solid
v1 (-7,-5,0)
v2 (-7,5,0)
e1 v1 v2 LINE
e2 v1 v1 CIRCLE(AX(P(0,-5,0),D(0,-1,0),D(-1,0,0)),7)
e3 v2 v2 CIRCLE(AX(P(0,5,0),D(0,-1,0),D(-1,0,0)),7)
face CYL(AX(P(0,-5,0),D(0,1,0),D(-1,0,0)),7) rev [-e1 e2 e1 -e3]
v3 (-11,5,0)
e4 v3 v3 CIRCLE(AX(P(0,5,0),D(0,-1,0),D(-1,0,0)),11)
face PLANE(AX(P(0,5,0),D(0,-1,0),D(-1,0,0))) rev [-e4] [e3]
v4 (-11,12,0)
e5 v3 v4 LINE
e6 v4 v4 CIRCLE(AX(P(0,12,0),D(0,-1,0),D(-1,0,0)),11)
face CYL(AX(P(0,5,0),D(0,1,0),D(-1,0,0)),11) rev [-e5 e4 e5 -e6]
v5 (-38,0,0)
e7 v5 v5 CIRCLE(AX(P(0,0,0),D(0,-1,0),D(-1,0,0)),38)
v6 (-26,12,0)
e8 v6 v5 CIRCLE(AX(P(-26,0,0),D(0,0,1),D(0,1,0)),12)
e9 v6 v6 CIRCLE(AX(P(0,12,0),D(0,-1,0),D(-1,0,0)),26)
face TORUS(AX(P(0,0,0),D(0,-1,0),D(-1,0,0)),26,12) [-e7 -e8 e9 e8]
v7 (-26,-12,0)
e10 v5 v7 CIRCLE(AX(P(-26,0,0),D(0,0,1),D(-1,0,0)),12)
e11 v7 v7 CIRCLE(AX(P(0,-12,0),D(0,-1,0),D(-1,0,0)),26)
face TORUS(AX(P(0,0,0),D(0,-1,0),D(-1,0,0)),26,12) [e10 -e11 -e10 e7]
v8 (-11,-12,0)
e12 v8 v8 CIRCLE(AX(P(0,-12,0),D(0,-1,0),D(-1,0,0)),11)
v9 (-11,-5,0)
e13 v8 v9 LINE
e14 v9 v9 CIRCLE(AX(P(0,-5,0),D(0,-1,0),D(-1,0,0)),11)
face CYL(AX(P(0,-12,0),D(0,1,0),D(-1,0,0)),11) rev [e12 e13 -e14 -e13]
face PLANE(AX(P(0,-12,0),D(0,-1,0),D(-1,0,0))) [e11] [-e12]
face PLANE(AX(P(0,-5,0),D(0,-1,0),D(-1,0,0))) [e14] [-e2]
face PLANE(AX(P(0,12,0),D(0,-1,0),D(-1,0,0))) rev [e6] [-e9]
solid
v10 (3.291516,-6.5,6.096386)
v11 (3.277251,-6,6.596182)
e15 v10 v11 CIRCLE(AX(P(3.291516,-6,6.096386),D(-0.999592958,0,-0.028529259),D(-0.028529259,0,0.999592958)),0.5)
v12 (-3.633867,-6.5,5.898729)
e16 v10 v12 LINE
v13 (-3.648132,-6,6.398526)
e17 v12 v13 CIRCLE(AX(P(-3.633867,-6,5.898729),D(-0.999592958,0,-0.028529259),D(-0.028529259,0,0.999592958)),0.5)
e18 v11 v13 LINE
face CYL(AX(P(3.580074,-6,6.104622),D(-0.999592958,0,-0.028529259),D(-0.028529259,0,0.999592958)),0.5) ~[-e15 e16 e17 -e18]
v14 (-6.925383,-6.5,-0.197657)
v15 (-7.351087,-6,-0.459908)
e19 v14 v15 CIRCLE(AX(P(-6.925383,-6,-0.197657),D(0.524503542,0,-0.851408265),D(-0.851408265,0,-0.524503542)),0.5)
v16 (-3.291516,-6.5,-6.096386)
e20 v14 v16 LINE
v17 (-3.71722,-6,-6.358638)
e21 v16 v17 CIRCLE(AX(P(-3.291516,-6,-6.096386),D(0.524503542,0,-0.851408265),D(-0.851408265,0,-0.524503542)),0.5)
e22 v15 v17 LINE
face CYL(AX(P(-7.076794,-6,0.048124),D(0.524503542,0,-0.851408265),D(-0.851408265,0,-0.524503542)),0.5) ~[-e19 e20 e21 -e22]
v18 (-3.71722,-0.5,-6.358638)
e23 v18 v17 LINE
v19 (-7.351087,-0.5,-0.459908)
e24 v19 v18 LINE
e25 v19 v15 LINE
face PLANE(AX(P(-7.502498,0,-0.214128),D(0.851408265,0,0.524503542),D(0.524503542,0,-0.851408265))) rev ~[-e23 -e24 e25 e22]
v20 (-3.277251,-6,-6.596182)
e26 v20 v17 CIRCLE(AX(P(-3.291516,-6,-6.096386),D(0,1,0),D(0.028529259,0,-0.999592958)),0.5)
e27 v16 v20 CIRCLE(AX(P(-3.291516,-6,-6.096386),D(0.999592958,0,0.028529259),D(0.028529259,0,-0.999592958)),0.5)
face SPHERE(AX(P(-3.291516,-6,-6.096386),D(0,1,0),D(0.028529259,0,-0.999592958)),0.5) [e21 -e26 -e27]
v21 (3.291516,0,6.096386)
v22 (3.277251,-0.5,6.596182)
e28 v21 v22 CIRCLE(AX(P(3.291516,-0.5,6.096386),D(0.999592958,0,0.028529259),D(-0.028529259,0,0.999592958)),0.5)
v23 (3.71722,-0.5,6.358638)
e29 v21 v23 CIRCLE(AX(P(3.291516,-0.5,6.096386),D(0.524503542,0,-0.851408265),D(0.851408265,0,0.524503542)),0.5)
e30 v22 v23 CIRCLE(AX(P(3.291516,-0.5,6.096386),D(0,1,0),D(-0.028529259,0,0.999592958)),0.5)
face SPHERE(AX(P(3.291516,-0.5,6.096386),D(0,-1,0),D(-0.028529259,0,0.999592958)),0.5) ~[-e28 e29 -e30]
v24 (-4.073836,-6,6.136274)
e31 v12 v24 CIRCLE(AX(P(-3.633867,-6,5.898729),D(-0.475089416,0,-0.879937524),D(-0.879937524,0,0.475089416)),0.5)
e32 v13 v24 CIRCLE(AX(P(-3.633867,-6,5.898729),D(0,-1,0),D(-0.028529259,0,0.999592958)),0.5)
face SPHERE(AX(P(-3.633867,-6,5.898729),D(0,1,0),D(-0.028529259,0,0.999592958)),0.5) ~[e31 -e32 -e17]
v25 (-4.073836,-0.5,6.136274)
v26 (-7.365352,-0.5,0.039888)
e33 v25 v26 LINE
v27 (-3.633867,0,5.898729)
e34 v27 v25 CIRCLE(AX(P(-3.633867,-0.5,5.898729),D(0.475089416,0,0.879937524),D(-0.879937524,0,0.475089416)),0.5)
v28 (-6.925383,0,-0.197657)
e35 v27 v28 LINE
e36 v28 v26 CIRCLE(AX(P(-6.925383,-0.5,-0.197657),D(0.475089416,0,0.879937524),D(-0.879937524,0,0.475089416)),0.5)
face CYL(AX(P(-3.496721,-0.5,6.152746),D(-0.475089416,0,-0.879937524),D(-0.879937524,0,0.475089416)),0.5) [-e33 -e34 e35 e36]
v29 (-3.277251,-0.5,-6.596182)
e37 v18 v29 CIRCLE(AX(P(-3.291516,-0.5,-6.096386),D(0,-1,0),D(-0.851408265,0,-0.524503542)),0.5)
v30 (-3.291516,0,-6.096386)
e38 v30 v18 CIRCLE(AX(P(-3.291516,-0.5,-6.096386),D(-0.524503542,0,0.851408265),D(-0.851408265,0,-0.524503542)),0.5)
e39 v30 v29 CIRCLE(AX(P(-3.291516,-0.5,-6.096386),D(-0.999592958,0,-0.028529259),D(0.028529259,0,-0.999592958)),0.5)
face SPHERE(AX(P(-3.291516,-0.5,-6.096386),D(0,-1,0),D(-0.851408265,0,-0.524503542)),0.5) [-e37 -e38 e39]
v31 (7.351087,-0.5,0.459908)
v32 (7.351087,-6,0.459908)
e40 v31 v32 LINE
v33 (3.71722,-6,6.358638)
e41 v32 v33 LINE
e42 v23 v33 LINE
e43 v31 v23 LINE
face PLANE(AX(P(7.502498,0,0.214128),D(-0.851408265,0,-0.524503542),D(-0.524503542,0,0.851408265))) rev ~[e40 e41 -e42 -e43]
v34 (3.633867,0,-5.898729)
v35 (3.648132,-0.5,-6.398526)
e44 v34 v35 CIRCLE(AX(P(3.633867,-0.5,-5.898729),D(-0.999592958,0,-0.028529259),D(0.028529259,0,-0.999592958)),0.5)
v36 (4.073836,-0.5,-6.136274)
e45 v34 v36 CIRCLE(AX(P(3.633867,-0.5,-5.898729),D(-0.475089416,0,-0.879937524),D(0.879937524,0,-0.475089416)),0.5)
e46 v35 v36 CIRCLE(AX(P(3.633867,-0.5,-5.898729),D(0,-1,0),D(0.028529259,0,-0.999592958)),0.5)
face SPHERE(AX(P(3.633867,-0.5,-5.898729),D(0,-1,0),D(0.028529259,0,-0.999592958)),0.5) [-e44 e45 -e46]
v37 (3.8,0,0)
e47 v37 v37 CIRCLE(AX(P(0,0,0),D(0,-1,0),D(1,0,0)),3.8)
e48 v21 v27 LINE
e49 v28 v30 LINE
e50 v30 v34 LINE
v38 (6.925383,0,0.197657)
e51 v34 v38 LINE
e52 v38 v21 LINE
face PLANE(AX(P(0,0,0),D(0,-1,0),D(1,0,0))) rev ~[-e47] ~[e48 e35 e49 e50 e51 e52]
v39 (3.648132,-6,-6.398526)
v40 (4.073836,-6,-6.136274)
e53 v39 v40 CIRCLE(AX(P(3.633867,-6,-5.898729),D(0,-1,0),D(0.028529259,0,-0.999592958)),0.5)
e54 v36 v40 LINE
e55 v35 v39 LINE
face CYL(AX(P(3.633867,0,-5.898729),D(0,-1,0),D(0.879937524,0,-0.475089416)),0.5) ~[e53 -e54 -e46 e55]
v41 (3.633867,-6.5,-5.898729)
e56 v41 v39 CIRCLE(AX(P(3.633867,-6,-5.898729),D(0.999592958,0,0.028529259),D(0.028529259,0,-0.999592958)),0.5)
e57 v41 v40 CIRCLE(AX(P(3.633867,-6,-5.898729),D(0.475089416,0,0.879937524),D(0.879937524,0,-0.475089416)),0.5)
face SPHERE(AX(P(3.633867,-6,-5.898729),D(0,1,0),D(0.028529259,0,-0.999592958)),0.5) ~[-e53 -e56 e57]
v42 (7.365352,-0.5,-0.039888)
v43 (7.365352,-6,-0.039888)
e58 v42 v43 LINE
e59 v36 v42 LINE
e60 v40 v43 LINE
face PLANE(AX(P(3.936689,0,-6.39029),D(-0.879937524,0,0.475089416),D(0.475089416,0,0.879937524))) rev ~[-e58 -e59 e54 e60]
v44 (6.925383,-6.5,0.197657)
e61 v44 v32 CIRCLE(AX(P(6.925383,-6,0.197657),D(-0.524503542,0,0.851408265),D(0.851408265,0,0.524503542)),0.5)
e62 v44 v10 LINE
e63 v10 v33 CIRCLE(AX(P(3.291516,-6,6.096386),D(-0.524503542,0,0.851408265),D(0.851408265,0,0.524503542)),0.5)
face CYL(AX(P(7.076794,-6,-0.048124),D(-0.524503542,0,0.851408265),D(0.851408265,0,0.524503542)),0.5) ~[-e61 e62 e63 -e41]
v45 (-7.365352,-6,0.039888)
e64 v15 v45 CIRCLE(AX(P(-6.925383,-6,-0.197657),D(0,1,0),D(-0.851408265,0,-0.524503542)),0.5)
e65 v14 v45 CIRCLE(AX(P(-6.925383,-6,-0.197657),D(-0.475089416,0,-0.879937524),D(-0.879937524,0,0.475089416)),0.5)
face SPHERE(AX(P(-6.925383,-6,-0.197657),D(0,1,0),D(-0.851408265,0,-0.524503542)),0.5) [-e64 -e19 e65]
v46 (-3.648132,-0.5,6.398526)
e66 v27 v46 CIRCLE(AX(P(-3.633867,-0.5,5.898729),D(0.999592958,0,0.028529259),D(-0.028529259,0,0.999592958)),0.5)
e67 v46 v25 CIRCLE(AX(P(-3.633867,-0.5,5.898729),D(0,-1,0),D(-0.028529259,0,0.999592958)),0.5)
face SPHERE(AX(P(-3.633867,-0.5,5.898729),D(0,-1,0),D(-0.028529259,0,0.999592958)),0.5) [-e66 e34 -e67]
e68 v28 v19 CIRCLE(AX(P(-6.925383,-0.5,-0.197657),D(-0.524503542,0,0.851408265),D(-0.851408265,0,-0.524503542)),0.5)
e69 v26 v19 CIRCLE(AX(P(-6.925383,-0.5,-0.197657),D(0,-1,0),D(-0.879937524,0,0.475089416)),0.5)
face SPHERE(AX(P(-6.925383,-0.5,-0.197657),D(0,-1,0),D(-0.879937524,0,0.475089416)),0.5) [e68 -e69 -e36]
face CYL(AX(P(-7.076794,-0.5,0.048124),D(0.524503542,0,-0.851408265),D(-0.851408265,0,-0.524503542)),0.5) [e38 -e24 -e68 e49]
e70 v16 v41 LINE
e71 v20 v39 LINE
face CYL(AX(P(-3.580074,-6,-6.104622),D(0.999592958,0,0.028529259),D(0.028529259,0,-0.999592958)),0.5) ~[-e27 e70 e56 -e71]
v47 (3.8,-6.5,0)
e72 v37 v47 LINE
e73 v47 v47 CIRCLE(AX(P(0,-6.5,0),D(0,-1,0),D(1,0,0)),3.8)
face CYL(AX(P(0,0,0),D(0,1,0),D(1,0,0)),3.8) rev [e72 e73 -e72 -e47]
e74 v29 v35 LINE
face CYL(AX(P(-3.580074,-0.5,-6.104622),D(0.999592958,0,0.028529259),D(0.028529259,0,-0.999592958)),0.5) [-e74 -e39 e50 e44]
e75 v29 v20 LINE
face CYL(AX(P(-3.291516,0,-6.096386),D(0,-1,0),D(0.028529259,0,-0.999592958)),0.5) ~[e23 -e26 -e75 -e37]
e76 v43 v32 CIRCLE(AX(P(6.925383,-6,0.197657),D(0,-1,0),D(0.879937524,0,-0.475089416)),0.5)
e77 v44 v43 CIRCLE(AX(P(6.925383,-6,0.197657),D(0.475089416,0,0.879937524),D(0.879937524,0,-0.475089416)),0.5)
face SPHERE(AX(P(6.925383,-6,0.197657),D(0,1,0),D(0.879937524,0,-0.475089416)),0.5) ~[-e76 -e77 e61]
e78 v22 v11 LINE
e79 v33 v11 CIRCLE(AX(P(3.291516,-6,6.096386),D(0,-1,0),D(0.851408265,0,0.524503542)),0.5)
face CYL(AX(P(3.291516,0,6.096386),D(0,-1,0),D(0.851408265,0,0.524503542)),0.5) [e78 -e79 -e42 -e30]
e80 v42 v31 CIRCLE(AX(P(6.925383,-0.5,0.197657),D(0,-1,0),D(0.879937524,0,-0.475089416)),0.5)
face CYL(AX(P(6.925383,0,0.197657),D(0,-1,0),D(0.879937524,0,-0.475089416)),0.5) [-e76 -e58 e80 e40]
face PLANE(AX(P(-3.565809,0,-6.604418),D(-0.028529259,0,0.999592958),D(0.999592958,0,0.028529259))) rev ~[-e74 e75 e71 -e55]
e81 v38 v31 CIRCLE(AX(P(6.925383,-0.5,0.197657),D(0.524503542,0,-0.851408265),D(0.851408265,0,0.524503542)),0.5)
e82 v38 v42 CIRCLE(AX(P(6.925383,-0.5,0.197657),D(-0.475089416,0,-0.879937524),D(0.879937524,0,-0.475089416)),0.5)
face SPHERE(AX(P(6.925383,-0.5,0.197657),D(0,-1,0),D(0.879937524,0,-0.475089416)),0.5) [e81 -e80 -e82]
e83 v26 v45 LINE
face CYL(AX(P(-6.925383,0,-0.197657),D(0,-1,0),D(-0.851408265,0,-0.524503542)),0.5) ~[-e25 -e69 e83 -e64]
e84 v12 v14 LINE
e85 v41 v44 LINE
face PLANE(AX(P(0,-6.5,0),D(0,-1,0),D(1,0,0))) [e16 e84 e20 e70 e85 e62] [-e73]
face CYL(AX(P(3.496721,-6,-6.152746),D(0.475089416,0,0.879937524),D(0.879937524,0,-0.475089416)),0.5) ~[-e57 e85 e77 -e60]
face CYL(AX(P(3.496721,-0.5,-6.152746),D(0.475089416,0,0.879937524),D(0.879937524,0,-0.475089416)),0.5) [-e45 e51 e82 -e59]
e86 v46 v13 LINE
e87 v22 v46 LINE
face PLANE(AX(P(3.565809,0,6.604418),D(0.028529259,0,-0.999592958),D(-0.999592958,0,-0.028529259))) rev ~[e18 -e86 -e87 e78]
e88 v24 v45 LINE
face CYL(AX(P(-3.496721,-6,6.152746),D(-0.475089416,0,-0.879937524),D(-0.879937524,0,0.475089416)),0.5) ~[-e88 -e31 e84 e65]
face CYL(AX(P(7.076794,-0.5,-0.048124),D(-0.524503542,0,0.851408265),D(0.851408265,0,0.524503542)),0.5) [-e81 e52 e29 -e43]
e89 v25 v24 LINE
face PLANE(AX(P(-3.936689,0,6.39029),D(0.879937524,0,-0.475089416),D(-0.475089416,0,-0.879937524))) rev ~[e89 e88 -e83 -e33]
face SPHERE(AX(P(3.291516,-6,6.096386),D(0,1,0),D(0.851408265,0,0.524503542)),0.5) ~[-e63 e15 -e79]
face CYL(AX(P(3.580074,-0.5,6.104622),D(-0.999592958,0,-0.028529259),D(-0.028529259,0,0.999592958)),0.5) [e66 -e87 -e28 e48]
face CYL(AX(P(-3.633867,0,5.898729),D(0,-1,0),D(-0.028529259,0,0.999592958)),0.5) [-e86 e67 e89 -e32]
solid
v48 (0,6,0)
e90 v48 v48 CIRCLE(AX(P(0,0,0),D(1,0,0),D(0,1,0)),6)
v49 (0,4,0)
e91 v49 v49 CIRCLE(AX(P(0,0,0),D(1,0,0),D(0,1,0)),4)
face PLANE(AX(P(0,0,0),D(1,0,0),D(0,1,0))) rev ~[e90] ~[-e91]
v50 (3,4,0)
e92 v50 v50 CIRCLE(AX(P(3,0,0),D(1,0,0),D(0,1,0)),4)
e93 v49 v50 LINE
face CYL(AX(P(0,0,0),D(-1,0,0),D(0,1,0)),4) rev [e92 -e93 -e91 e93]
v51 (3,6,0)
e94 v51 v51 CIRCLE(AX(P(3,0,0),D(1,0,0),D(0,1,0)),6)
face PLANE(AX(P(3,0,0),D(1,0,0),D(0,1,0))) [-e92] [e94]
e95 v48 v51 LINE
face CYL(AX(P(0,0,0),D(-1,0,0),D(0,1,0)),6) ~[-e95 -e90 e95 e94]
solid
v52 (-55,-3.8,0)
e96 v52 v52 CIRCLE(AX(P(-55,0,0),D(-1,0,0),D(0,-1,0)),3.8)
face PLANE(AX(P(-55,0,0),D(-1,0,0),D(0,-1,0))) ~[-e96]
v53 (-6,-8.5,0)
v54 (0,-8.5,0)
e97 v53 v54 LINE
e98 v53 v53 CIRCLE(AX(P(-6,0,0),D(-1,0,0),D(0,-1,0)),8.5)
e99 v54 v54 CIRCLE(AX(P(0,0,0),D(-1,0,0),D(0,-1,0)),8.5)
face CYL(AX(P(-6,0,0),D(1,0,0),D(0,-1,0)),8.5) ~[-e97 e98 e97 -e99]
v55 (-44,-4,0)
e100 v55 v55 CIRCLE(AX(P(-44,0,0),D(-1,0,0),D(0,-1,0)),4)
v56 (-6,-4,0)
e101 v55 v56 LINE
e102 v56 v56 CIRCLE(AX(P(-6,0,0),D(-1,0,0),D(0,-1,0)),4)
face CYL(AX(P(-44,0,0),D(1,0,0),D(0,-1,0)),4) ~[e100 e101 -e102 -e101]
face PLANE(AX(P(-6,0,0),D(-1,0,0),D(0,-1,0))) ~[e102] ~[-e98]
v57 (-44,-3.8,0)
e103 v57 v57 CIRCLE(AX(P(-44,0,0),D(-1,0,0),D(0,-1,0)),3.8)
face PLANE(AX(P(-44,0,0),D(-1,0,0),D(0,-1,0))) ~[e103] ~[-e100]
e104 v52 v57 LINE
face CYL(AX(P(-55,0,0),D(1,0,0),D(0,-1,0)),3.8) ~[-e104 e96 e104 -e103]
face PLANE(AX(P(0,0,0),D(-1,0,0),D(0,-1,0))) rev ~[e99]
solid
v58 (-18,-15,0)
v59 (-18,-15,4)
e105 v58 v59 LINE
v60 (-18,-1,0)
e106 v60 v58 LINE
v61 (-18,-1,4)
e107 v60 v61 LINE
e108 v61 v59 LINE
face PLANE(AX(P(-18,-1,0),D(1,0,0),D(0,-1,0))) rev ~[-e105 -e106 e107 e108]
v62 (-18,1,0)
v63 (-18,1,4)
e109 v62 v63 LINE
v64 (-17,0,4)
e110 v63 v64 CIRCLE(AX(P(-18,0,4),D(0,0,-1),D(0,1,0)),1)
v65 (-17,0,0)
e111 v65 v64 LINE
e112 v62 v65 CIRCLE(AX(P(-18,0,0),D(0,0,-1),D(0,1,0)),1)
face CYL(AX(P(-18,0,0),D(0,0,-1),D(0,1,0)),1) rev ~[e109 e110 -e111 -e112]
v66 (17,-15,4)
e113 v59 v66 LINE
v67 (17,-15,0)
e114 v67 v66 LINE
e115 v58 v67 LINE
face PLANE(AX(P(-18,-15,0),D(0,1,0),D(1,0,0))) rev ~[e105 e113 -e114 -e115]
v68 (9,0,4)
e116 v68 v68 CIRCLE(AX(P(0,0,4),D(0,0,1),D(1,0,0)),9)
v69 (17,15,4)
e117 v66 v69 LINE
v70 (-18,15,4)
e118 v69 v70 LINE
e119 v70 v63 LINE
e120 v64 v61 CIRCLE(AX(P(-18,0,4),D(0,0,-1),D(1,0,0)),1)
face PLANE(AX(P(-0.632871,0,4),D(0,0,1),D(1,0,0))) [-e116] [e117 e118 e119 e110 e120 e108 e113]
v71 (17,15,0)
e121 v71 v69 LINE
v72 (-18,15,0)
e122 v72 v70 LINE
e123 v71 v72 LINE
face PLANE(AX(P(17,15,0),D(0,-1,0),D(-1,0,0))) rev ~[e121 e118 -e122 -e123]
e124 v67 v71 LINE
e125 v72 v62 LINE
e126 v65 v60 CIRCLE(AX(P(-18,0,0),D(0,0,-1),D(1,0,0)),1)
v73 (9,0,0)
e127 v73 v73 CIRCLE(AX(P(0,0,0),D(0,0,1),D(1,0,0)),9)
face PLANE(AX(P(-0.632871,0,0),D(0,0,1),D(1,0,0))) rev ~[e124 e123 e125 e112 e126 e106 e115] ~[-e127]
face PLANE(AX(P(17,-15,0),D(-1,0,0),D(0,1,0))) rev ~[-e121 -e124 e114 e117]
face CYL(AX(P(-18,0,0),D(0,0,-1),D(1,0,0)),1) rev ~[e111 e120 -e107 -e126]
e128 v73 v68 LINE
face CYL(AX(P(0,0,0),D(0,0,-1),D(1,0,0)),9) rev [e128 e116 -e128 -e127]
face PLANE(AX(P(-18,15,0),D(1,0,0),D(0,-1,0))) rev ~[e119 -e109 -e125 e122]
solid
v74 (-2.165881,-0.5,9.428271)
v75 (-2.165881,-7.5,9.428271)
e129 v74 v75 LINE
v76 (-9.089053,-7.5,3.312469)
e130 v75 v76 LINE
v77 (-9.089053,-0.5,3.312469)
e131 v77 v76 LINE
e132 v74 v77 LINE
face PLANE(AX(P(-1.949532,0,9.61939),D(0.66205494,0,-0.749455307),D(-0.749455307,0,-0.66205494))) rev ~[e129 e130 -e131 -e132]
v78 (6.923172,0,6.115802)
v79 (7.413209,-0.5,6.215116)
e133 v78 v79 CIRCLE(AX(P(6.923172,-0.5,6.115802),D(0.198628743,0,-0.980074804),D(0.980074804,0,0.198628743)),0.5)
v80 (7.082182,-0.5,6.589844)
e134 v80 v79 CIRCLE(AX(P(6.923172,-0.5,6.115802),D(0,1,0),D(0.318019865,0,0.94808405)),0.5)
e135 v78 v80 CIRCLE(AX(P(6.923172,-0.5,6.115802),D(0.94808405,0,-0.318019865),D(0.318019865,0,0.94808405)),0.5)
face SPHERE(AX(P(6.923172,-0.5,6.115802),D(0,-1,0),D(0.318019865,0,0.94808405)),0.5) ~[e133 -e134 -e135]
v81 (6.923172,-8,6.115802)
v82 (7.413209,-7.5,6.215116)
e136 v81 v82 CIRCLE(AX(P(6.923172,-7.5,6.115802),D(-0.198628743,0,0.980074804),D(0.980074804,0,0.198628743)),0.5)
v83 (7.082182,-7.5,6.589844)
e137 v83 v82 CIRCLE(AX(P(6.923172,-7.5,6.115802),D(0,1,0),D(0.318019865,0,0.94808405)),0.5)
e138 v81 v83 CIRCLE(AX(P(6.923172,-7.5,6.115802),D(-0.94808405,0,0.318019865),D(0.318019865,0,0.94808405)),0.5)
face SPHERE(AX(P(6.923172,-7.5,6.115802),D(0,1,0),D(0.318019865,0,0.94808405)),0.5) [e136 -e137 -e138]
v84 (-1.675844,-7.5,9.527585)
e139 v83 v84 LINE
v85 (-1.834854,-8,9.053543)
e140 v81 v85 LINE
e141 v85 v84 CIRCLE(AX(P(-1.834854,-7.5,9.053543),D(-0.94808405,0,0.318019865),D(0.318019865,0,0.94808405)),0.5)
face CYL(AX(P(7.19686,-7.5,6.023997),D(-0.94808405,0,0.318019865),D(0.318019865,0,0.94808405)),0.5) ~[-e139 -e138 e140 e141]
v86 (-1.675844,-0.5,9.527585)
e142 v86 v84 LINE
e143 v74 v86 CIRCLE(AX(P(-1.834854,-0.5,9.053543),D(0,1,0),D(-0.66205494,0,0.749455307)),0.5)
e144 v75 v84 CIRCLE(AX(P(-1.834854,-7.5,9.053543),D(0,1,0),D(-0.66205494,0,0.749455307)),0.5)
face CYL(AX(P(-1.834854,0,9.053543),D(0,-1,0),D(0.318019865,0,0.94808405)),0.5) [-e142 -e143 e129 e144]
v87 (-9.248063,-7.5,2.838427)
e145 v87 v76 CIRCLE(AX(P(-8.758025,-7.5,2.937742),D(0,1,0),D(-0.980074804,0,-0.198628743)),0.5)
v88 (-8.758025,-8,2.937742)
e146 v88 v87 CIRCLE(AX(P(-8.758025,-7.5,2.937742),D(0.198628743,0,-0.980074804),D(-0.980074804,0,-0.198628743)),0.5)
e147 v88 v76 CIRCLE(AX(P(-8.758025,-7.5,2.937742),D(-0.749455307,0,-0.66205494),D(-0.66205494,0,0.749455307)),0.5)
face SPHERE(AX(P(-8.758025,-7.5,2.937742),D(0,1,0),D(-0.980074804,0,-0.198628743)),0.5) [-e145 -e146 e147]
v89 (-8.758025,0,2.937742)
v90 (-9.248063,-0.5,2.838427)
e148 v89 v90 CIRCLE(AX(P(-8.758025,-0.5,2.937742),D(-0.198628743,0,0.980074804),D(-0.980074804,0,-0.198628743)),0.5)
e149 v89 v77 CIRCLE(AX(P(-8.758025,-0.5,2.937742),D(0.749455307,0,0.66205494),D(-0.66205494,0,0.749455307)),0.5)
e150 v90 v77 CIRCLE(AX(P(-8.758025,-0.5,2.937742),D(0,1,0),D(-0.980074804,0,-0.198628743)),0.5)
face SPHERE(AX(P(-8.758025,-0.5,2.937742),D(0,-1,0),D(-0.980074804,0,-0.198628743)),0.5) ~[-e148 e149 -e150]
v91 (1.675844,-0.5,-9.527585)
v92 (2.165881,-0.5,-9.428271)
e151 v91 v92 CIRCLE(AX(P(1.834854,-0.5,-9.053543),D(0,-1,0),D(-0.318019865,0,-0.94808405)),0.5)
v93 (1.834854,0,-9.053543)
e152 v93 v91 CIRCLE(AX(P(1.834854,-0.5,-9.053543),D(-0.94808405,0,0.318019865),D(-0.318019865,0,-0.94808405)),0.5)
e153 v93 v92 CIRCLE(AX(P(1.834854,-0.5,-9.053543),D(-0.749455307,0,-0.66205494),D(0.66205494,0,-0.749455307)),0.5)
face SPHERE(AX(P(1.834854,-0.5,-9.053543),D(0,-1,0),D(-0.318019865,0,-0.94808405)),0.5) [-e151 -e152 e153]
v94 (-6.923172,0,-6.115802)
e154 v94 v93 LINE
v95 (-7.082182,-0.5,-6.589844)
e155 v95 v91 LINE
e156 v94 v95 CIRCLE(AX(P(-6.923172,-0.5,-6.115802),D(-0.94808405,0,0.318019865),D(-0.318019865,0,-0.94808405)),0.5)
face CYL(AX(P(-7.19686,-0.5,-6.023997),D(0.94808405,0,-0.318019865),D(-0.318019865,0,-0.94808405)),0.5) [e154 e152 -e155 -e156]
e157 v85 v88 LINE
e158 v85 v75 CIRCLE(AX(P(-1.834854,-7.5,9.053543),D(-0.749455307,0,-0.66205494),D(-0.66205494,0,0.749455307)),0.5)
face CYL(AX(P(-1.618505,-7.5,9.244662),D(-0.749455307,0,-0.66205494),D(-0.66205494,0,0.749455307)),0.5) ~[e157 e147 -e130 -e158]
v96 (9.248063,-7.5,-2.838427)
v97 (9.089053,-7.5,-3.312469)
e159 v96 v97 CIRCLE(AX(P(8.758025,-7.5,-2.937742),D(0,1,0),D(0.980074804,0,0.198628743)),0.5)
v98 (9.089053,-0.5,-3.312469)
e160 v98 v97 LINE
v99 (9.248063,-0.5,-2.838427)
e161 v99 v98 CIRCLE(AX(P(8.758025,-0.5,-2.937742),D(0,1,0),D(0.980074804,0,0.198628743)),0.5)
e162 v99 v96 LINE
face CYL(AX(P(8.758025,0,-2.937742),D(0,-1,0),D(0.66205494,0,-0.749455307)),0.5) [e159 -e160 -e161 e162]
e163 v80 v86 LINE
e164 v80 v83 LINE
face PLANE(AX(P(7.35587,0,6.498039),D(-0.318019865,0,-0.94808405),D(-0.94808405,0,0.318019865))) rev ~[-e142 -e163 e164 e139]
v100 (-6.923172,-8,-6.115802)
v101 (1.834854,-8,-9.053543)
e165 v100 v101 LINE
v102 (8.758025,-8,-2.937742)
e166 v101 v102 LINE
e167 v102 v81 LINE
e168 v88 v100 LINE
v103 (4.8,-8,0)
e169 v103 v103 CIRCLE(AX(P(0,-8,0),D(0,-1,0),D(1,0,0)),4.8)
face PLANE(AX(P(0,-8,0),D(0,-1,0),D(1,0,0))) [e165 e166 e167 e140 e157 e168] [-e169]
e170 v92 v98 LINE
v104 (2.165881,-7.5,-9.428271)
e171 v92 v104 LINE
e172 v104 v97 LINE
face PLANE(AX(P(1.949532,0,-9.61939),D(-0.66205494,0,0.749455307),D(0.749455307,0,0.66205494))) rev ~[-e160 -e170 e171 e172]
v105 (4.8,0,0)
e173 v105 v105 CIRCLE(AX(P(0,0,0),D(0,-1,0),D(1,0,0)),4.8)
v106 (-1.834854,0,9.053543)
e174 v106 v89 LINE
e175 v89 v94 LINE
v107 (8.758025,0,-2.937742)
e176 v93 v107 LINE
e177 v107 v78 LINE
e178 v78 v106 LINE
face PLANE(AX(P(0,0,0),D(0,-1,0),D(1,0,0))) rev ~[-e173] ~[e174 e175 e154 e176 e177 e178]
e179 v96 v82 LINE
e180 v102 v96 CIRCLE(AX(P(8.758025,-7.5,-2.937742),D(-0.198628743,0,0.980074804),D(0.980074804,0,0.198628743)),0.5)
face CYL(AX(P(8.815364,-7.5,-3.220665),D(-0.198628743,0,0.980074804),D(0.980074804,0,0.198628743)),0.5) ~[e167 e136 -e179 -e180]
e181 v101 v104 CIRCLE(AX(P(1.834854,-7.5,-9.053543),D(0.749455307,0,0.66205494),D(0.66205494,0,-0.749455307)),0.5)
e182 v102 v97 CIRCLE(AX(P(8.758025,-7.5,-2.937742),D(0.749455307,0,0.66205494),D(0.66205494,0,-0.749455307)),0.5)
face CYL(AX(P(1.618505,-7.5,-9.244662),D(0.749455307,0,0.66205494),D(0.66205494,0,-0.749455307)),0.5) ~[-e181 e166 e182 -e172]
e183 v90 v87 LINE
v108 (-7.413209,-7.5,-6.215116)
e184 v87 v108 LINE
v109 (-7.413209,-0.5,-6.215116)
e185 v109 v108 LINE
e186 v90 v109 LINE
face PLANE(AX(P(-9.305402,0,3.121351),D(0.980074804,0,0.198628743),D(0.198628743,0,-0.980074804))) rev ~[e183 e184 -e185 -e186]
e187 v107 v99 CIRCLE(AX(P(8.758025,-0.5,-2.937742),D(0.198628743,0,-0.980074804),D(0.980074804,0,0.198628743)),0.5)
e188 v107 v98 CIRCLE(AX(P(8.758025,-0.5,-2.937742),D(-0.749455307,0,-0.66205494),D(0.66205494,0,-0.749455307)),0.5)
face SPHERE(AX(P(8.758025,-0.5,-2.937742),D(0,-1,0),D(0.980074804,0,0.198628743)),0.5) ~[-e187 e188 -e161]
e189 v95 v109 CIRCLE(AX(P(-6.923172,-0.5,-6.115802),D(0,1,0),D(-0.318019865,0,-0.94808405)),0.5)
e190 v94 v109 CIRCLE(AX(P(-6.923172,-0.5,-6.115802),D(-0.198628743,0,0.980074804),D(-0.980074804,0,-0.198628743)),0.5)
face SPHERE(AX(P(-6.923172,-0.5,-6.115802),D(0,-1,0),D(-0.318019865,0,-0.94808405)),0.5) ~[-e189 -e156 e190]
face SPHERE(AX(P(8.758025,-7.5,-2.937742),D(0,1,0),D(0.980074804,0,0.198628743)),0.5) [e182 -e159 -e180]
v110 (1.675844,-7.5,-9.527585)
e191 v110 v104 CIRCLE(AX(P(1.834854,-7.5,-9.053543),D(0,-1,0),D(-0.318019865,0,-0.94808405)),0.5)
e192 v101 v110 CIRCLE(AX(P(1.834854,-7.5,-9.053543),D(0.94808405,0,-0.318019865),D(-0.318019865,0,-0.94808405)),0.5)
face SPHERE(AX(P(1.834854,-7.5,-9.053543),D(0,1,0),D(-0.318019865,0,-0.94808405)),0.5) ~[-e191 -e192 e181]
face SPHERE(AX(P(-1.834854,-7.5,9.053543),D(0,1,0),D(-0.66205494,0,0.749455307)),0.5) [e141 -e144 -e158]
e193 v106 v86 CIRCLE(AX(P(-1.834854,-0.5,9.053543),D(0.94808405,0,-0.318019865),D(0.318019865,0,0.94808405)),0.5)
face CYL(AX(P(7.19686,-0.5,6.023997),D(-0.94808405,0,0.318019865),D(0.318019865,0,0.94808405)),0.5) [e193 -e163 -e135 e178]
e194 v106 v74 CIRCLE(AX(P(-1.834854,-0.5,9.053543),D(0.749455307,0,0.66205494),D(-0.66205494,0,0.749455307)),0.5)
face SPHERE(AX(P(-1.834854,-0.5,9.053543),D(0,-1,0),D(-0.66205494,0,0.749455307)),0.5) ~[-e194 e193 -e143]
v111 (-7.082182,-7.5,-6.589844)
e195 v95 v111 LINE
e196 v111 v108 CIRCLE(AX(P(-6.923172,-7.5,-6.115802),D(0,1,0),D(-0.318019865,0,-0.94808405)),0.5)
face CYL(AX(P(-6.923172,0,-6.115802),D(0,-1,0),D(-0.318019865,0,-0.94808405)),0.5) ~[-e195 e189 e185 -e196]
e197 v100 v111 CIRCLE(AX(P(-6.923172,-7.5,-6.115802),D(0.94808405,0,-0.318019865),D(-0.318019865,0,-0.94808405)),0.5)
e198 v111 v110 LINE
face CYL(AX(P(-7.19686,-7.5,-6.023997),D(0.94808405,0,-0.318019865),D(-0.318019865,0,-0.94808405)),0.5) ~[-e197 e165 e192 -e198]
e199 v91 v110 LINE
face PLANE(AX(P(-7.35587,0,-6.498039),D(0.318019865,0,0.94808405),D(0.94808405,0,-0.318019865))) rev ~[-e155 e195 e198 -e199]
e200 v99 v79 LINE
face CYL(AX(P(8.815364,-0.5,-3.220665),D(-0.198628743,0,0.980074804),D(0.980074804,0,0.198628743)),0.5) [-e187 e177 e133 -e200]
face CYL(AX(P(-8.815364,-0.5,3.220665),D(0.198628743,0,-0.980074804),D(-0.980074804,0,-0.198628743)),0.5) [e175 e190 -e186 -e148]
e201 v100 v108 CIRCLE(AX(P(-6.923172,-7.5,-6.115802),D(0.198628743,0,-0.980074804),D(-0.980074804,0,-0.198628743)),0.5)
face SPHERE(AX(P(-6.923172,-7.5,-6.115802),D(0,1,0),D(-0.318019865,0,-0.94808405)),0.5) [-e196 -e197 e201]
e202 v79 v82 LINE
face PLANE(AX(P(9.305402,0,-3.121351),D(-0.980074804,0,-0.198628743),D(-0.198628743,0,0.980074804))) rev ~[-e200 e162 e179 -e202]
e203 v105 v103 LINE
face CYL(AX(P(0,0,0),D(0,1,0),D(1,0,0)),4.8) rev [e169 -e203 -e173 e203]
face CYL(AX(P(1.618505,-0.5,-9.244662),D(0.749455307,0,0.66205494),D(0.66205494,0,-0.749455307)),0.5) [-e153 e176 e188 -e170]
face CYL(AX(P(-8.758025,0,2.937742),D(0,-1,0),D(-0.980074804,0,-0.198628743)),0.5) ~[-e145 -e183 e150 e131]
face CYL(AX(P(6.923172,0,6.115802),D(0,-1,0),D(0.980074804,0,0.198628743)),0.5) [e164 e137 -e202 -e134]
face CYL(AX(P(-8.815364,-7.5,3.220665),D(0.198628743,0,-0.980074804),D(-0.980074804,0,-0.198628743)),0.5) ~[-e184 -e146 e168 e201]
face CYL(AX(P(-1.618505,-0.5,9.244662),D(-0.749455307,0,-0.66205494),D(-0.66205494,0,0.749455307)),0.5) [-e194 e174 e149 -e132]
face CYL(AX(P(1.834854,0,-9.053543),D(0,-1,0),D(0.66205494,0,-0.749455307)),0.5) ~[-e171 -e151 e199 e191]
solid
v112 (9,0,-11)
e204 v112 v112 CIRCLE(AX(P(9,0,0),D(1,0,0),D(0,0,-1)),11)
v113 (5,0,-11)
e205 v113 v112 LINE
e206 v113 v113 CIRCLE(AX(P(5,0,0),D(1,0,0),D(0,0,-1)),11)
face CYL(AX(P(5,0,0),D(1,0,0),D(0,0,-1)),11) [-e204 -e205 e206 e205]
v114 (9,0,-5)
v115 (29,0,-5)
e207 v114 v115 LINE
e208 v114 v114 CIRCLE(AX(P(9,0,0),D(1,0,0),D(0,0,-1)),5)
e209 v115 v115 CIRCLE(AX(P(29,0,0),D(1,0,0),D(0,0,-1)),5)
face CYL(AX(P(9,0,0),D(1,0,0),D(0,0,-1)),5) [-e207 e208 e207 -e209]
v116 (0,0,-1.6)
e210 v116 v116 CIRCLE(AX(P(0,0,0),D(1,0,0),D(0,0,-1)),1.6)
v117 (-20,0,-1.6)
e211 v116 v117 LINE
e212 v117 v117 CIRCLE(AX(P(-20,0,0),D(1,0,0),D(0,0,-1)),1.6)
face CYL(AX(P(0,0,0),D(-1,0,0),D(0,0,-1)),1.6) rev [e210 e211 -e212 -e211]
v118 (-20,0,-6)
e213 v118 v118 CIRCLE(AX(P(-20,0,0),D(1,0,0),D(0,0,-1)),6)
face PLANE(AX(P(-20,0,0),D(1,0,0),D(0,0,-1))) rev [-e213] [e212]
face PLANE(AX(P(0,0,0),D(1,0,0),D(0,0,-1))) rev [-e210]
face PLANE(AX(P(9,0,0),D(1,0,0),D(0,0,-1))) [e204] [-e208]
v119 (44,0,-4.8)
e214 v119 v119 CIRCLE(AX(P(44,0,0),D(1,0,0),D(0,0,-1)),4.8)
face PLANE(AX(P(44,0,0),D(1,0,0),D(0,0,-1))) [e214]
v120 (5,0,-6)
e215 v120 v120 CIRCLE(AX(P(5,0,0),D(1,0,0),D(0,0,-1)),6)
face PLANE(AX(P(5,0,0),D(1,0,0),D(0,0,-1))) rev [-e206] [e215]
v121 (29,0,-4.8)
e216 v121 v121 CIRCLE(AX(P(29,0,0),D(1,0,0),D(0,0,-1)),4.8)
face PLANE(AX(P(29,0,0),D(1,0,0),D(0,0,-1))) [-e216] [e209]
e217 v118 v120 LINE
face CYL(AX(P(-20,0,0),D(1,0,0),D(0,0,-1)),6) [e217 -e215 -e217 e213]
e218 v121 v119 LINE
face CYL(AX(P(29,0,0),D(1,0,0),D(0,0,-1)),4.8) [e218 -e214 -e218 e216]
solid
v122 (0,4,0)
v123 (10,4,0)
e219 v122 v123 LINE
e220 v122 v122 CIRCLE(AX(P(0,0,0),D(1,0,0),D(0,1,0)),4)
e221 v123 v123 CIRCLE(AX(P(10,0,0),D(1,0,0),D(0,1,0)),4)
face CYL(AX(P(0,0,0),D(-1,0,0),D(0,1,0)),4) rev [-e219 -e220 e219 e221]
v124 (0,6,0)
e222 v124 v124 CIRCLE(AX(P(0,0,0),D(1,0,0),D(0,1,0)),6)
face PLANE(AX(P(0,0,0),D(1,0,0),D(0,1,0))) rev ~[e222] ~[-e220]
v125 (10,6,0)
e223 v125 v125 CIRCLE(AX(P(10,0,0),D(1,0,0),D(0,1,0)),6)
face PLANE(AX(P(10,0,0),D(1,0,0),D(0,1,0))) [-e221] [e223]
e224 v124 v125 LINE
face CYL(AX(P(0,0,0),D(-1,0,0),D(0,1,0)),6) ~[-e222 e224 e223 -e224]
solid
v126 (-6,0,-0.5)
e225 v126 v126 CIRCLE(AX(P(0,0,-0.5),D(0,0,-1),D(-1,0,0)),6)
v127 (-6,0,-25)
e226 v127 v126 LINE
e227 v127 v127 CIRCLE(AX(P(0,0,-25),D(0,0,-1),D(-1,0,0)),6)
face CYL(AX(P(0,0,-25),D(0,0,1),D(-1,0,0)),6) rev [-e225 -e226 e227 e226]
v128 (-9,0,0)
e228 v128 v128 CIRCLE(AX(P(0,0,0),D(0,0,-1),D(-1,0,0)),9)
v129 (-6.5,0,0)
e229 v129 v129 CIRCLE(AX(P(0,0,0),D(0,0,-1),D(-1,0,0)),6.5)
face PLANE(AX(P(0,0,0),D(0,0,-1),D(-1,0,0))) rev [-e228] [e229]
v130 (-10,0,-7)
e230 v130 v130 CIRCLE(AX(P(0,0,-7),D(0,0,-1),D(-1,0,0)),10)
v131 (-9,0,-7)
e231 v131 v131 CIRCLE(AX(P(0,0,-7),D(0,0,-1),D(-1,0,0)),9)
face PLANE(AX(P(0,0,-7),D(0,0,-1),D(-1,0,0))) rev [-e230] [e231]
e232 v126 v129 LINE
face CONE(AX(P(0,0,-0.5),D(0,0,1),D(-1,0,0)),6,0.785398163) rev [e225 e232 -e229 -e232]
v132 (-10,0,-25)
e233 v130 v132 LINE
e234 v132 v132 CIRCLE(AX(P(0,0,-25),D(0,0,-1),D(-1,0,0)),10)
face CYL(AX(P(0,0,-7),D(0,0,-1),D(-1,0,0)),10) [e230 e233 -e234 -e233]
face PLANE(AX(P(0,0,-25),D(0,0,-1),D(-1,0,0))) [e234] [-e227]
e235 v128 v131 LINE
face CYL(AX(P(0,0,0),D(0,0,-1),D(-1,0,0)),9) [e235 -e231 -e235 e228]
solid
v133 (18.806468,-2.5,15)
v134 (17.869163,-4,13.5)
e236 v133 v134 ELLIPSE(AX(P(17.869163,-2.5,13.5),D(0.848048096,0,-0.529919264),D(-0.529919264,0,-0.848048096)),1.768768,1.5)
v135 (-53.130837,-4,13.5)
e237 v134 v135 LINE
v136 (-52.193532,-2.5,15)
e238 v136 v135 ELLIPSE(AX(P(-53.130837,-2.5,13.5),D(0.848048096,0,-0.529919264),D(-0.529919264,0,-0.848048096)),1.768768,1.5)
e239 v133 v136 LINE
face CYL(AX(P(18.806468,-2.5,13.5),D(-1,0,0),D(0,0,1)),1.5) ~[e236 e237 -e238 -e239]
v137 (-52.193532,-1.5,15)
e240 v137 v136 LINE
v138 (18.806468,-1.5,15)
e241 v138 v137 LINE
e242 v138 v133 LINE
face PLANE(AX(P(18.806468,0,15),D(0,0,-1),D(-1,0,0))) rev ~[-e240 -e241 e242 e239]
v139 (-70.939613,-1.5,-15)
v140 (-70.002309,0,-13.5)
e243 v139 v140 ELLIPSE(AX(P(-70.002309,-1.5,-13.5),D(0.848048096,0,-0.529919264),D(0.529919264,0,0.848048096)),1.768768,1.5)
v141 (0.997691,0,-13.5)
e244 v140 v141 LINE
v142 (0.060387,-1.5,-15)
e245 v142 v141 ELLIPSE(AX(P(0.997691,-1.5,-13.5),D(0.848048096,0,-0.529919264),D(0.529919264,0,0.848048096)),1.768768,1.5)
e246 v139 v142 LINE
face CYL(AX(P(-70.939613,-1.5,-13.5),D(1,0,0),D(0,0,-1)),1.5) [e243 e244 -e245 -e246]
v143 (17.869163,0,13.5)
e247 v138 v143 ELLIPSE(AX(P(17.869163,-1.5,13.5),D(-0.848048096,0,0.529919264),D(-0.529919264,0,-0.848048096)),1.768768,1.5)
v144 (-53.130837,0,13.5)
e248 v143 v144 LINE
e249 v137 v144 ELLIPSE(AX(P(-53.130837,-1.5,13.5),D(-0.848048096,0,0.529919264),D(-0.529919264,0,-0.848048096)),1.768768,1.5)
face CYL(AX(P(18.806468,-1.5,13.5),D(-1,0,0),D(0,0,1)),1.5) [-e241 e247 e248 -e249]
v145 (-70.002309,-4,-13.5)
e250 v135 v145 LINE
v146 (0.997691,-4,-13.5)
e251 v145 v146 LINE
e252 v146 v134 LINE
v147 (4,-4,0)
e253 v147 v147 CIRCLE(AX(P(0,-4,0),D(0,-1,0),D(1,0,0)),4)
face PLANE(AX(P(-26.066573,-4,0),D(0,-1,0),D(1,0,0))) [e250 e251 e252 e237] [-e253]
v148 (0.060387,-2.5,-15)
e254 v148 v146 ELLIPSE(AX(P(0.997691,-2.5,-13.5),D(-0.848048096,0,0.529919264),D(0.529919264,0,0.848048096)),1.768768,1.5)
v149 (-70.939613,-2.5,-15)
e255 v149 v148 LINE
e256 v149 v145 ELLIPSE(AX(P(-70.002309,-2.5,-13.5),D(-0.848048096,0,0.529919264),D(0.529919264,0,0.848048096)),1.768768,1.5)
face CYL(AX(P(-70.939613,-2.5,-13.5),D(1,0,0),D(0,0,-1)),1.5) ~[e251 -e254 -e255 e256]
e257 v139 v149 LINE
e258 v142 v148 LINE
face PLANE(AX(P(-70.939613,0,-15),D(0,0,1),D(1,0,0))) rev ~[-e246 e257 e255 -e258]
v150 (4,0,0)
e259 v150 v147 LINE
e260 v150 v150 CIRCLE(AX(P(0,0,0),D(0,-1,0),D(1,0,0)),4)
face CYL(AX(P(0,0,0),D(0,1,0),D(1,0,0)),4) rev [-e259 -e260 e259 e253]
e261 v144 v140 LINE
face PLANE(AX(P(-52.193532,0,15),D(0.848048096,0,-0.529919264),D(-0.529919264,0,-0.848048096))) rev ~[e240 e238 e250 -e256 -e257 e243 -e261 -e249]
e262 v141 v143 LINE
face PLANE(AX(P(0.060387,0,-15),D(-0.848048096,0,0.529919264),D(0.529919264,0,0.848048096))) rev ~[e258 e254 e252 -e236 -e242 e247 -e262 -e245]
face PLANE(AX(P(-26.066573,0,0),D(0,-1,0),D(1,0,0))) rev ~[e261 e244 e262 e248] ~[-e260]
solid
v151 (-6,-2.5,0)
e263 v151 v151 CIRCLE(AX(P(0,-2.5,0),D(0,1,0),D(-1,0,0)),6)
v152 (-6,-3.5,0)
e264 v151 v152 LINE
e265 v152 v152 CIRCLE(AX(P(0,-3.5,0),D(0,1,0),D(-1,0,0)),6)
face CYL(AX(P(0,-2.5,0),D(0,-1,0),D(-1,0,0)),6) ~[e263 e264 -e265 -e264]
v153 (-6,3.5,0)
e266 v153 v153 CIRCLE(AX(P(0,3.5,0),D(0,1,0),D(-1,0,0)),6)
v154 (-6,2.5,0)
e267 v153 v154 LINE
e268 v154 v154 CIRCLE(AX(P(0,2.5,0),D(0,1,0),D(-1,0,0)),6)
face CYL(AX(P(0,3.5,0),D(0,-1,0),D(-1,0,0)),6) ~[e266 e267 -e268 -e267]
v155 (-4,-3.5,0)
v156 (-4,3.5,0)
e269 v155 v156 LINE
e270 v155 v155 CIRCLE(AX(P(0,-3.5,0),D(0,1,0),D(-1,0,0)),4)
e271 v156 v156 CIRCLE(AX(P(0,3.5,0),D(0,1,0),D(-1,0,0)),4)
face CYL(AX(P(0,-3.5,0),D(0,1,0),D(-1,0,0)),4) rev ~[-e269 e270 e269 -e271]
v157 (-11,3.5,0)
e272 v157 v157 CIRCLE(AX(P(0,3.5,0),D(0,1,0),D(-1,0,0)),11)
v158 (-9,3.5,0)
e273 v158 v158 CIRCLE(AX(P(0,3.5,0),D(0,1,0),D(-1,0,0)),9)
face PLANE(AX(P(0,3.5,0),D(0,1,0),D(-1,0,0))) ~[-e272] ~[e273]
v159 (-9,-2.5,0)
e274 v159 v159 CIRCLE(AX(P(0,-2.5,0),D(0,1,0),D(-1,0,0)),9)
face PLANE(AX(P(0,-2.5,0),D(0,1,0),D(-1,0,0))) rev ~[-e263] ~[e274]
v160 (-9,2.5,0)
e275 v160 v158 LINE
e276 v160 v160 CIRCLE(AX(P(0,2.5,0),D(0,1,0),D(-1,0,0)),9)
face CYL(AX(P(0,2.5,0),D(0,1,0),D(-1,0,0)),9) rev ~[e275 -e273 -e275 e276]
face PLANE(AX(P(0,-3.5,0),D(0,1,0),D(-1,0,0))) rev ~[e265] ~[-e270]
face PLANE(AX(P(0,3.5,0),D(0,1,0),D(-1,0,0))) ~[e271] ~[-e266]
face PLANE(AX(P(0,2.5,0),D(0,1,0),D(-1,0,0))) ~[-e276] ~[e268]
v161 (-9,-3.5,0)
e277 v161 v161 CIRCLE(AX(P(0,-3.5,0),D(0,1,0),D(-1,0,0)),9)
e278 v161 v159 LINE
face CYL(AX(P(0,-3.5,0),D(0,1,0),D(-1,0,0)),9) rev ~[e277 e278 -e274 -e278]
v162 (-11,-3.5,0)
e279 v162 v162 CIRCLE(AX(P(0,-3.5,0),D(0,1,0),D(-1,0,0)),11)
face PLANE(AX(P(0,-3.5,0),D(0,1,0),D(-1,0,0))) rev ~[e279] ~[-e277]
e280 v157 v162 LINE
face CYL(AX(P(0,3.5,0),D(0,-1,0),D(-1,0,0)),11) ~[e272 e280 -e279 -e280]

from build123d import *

# Parameters (mm, degrees)
F1_R      = 9
F2_DEPTH  = 4
F3_R      = 4
F4_DEPTH  = 4
F5_R      = 1.5
F8_SIZE   = 0.5
F17_R     = 6
F17_R_2   = 4
F18_DEPTH = 10
F19_DEPTH = 3
F20_R     = 3.8
F21_DEPTH = 6.5
F22_R     = 0.5
F23_R     = 4.8
F24_DEPTH = 8
F25_R     = 0.5


with BuildPart() as f2:
    # F1 (on Top) → F2 (new body)
    with BuildSketch(Plane.XY):
        with BuildLine():
            Line((17, 15), (-18, 15))
            Line((-18, 15), (-18, 1))
            ThreePointArc((-18, 1), (-17.2928932188, 0.7071067812), (-17, 0))
            ThreePointArc((-17, 0), (-17.2928932188, -0.7071067812), (-18, -1))
            Line((-18, -1), (-18, -15))
            Line((-18, -15), (17, -15))
            Line((17, -15), (17, 15))
        make_face()
        Circle(F1_R, mode=Mode.SUBTRACT)
    extrude(amount=F2_DEPTH)


with BuildPart() as f4:
    # F3 (on Front) → F4 (new body)
    with BuildSketch(Plane.XZ):
        Polygon((-52.1935324945, 15), (-70.9396130517, -15), (0.0603869483, -15), (18.8064675055, 15), align=None)
        Circle(F3_R, mode=Mode.SUBTRACT)
    extrude(amount=F4_DEPTH)

    # F5
    f5_edges = [f4.edges().sort_by_distance(p)[0] for p in [
        (-16.693532, -4, 15),
        (-16.693532, 0, 15),
        (-35.439613, 0, -15),
        (-35.439613, -4, -15),
    ]]
    fillet(f5_edges, radius=F5_R)


with BuildPart() as f7:
    # F6 (on Front) → F7 (revolve)
    with BuildSketch(Plane.XZ):
        Polygon((-9, -7), (-10, -7), (-10, -25), (-6, -25), (-6, 0), (-9, 0), align=None)
    revolve(axis=Axis((0, 0, -12.5), (0, 0, -1)))

    # F8
    f8_edges = [f7.edges().sort_by_distance(p)[0] for p in [
        (6, 0, 0),
    ]]
    chamfer(f8_edges, length=F8_SIZE)


with BuildPart() as f10:
    # F9 (on Front) → F10 (revolve)
    with BuildSketch(Plane.XZ):
        Polygon((44, 0), (0, 0), (0, -1.6), (-20, -1.6), (-20, -6), (5, -6), (5, -11), (9, -11), (9, -5), (29, -5), (29, -4.8), (44, -4.8), align=None)
    revolve(axis=Axis((22, 0, 0), (1, 0, 0)))


with BuildPart() as f12:
    # F11 (on Top) → F12 (revolve)
    with BuildSketch(Plane.XY):
        with BuildLine():
            Line((-11, 5), (-11, 12))
            Line((-11, 12), (-26, 12))
            ThreePointArc((-26, 12), (-34.4852813742, 8.4852813742), (-38, 0))
            ThreePointArc((-38, 0), (-34.4852813742, -8.4852813742), (-26, -12))
            Line((-26, -12), (-11, -12))
            Line((-11, -12), (-11, -5))
            Line((-11, -5), (-7, -5))
            Line((-7, -5), (-7, 5))
            Line((-7, 5), (-11, 5))
        make_face()
    revolve(axis=Axis((0, 0, 0), (0, -1, 0)))


with BuildPart() as f14:
    # F13 (on Top) → F14 (revolve)
    with BuildSketch(Plane.XY):
        Polygon((-9, 3.5), (-11, 3.5), (-11, -3.5), (-9, -3.5), (-9, -2.5), (-6, -2.5), (-6, -3.5), (-4, -3.5), (-4, 3.5), (-6, 3.5), (-6, 2.5), (-9, 2.5), align=None)
    revolve(axis=Axis((0, 0, 0), (0, 1, 0)))


with BuildPart() as f16:
    # F15 (on Top) → F16 (revolve)
    with BuildSketch(Plane.XY):
        Polygon((0, 0), (-55, 0), (-55, -3.8), (-44, -3.8), (-44, -4), (-6, -4), (-6, -8.5), (0, -8.5), align=None)
    revolve(axis=Axis((-27.5, 0, 0), (-1, 0, 0)))


with BuildPart() as f18:
    # F17 (on Right) → F18 (new body)
    with BuildSketch(Plane.YZ):
        Circle(F17_R)
        Circle(F17_R_2, mode=Mode.SUBTRACT)
    extrude(amount=F18_DEPTH)


with BuildPart() as f19:
    # F17 (on Right) → F19 (new body)
    with BuildSketch(Plane.YZ):
        Circle(F17_R)
        Circle(F17_R_2, mode=Mode.SUBTRACT)
    extrude(amount=F19_DEPTH)


with BuildPart() as f21:
    # F20 (on Front) → F21 (new body)
    with BuildSketch(Plane.XZ):
        Polygon((3.9366893947, -6.3902902863), (7.5024984228, 0.2141278795), (3.5658090281, 6.6044181658), (-3.9366893947, 6.3902902863), (-7.5024984228, -0.2141278795), (-3.5658090281, -6.6044181658), align=None)
        Circle(F20_R, mode=Mode.SUBTRACT)
    extrude(amount=F21_DEPTH)

    # F22
    f22_edges = [f21.edges().sort_by_distance(p)[0] for p in [
        (-0.18544, 0, 6.497354),
        (-5.719594, 0, 3.088081),
        (-5.534154, 0, -3.409273),
        (0.18544, 0, -6.497354),
        (5.719594, 0, -3.088081),
        (5.534154, 0, 3.409273),
        (0.18544, -6.5, -6.497354),
        (-5.534154, -6.5, -3.409273),
        (5.719594, -6.5, -3.088081),
        (5.534154, -6.5, 3.409273),
        (-0.18544, -6.5, 6.497354),
        (-5.719594, -6.5, 3.088081),
        (-3.936689, -3.25, 6.39029),
        (3.565809, -3.25, 6.604418),
        (7.502498, -3.25, 0.214128),
        (-7.502498, -3.25, -0.214128),
        (-3.565809, -3.25, -6.604418),
        (3.936689, -3.25, -6.39029),
    ]]
    fillet(f22_edges, radius=F22_R)


with BuildPart() as f24:
    # F23 (on Front) → F24 (new body)
    with BuildSketch(Plane.XZ):
        Polygon((1.9495320925, -9.6193896872), (9.3054018842, -3.121350526), (7.3558697918, 6.4980391612), (-1.9495320925, 9.6193896872), (-9.3054018842, 3.121350526), (-7.3558697918, -6.4980391612), align=None)
        Circle(F23_R, mode=Mode.SUBTRACT)
    extrude(amount=F24_DEPTH)

    # F25
    f25_edges = [f24.edges().sort_by_distance(p)[0] for p in [
        (-7.35587, -4, -6.498039),
        (1.949532, -4, -9.61939),
        (-2.703169, 0, -8.058714),
        (-2.703169, -8, -8.058714),
        (-9.305402, -4, 3.121351),
        (-8.330636, 0, -1.688344),
        (-8.330636, -8, -1.688344),
        (-1.949532, -4, 9.61939),
        (-5.627467, 0, 6.37037),
        (-5.627467, -8, 6.37037),
        (7.35587, -4, 6.498039),
        (2.703169, 0, 8.058714),
        (2.703169, -8, 8.058714),
        (9.305402, -4, -3.121351),
        (8.330636, 0, 1.688344),
        (8.330636, -8, 1.688344),
        (5.627467, 0, -6.37037),
        (5.627467, -8, -6.37037),
    ]]
    fillet(f25_edges, radius=F25_R)


solid = Compound([f2.part, f4.part, f7.part, f10.part, f12.part, f14.part, f16.part, f18.part, f19.part, f21.part, f24.part])
